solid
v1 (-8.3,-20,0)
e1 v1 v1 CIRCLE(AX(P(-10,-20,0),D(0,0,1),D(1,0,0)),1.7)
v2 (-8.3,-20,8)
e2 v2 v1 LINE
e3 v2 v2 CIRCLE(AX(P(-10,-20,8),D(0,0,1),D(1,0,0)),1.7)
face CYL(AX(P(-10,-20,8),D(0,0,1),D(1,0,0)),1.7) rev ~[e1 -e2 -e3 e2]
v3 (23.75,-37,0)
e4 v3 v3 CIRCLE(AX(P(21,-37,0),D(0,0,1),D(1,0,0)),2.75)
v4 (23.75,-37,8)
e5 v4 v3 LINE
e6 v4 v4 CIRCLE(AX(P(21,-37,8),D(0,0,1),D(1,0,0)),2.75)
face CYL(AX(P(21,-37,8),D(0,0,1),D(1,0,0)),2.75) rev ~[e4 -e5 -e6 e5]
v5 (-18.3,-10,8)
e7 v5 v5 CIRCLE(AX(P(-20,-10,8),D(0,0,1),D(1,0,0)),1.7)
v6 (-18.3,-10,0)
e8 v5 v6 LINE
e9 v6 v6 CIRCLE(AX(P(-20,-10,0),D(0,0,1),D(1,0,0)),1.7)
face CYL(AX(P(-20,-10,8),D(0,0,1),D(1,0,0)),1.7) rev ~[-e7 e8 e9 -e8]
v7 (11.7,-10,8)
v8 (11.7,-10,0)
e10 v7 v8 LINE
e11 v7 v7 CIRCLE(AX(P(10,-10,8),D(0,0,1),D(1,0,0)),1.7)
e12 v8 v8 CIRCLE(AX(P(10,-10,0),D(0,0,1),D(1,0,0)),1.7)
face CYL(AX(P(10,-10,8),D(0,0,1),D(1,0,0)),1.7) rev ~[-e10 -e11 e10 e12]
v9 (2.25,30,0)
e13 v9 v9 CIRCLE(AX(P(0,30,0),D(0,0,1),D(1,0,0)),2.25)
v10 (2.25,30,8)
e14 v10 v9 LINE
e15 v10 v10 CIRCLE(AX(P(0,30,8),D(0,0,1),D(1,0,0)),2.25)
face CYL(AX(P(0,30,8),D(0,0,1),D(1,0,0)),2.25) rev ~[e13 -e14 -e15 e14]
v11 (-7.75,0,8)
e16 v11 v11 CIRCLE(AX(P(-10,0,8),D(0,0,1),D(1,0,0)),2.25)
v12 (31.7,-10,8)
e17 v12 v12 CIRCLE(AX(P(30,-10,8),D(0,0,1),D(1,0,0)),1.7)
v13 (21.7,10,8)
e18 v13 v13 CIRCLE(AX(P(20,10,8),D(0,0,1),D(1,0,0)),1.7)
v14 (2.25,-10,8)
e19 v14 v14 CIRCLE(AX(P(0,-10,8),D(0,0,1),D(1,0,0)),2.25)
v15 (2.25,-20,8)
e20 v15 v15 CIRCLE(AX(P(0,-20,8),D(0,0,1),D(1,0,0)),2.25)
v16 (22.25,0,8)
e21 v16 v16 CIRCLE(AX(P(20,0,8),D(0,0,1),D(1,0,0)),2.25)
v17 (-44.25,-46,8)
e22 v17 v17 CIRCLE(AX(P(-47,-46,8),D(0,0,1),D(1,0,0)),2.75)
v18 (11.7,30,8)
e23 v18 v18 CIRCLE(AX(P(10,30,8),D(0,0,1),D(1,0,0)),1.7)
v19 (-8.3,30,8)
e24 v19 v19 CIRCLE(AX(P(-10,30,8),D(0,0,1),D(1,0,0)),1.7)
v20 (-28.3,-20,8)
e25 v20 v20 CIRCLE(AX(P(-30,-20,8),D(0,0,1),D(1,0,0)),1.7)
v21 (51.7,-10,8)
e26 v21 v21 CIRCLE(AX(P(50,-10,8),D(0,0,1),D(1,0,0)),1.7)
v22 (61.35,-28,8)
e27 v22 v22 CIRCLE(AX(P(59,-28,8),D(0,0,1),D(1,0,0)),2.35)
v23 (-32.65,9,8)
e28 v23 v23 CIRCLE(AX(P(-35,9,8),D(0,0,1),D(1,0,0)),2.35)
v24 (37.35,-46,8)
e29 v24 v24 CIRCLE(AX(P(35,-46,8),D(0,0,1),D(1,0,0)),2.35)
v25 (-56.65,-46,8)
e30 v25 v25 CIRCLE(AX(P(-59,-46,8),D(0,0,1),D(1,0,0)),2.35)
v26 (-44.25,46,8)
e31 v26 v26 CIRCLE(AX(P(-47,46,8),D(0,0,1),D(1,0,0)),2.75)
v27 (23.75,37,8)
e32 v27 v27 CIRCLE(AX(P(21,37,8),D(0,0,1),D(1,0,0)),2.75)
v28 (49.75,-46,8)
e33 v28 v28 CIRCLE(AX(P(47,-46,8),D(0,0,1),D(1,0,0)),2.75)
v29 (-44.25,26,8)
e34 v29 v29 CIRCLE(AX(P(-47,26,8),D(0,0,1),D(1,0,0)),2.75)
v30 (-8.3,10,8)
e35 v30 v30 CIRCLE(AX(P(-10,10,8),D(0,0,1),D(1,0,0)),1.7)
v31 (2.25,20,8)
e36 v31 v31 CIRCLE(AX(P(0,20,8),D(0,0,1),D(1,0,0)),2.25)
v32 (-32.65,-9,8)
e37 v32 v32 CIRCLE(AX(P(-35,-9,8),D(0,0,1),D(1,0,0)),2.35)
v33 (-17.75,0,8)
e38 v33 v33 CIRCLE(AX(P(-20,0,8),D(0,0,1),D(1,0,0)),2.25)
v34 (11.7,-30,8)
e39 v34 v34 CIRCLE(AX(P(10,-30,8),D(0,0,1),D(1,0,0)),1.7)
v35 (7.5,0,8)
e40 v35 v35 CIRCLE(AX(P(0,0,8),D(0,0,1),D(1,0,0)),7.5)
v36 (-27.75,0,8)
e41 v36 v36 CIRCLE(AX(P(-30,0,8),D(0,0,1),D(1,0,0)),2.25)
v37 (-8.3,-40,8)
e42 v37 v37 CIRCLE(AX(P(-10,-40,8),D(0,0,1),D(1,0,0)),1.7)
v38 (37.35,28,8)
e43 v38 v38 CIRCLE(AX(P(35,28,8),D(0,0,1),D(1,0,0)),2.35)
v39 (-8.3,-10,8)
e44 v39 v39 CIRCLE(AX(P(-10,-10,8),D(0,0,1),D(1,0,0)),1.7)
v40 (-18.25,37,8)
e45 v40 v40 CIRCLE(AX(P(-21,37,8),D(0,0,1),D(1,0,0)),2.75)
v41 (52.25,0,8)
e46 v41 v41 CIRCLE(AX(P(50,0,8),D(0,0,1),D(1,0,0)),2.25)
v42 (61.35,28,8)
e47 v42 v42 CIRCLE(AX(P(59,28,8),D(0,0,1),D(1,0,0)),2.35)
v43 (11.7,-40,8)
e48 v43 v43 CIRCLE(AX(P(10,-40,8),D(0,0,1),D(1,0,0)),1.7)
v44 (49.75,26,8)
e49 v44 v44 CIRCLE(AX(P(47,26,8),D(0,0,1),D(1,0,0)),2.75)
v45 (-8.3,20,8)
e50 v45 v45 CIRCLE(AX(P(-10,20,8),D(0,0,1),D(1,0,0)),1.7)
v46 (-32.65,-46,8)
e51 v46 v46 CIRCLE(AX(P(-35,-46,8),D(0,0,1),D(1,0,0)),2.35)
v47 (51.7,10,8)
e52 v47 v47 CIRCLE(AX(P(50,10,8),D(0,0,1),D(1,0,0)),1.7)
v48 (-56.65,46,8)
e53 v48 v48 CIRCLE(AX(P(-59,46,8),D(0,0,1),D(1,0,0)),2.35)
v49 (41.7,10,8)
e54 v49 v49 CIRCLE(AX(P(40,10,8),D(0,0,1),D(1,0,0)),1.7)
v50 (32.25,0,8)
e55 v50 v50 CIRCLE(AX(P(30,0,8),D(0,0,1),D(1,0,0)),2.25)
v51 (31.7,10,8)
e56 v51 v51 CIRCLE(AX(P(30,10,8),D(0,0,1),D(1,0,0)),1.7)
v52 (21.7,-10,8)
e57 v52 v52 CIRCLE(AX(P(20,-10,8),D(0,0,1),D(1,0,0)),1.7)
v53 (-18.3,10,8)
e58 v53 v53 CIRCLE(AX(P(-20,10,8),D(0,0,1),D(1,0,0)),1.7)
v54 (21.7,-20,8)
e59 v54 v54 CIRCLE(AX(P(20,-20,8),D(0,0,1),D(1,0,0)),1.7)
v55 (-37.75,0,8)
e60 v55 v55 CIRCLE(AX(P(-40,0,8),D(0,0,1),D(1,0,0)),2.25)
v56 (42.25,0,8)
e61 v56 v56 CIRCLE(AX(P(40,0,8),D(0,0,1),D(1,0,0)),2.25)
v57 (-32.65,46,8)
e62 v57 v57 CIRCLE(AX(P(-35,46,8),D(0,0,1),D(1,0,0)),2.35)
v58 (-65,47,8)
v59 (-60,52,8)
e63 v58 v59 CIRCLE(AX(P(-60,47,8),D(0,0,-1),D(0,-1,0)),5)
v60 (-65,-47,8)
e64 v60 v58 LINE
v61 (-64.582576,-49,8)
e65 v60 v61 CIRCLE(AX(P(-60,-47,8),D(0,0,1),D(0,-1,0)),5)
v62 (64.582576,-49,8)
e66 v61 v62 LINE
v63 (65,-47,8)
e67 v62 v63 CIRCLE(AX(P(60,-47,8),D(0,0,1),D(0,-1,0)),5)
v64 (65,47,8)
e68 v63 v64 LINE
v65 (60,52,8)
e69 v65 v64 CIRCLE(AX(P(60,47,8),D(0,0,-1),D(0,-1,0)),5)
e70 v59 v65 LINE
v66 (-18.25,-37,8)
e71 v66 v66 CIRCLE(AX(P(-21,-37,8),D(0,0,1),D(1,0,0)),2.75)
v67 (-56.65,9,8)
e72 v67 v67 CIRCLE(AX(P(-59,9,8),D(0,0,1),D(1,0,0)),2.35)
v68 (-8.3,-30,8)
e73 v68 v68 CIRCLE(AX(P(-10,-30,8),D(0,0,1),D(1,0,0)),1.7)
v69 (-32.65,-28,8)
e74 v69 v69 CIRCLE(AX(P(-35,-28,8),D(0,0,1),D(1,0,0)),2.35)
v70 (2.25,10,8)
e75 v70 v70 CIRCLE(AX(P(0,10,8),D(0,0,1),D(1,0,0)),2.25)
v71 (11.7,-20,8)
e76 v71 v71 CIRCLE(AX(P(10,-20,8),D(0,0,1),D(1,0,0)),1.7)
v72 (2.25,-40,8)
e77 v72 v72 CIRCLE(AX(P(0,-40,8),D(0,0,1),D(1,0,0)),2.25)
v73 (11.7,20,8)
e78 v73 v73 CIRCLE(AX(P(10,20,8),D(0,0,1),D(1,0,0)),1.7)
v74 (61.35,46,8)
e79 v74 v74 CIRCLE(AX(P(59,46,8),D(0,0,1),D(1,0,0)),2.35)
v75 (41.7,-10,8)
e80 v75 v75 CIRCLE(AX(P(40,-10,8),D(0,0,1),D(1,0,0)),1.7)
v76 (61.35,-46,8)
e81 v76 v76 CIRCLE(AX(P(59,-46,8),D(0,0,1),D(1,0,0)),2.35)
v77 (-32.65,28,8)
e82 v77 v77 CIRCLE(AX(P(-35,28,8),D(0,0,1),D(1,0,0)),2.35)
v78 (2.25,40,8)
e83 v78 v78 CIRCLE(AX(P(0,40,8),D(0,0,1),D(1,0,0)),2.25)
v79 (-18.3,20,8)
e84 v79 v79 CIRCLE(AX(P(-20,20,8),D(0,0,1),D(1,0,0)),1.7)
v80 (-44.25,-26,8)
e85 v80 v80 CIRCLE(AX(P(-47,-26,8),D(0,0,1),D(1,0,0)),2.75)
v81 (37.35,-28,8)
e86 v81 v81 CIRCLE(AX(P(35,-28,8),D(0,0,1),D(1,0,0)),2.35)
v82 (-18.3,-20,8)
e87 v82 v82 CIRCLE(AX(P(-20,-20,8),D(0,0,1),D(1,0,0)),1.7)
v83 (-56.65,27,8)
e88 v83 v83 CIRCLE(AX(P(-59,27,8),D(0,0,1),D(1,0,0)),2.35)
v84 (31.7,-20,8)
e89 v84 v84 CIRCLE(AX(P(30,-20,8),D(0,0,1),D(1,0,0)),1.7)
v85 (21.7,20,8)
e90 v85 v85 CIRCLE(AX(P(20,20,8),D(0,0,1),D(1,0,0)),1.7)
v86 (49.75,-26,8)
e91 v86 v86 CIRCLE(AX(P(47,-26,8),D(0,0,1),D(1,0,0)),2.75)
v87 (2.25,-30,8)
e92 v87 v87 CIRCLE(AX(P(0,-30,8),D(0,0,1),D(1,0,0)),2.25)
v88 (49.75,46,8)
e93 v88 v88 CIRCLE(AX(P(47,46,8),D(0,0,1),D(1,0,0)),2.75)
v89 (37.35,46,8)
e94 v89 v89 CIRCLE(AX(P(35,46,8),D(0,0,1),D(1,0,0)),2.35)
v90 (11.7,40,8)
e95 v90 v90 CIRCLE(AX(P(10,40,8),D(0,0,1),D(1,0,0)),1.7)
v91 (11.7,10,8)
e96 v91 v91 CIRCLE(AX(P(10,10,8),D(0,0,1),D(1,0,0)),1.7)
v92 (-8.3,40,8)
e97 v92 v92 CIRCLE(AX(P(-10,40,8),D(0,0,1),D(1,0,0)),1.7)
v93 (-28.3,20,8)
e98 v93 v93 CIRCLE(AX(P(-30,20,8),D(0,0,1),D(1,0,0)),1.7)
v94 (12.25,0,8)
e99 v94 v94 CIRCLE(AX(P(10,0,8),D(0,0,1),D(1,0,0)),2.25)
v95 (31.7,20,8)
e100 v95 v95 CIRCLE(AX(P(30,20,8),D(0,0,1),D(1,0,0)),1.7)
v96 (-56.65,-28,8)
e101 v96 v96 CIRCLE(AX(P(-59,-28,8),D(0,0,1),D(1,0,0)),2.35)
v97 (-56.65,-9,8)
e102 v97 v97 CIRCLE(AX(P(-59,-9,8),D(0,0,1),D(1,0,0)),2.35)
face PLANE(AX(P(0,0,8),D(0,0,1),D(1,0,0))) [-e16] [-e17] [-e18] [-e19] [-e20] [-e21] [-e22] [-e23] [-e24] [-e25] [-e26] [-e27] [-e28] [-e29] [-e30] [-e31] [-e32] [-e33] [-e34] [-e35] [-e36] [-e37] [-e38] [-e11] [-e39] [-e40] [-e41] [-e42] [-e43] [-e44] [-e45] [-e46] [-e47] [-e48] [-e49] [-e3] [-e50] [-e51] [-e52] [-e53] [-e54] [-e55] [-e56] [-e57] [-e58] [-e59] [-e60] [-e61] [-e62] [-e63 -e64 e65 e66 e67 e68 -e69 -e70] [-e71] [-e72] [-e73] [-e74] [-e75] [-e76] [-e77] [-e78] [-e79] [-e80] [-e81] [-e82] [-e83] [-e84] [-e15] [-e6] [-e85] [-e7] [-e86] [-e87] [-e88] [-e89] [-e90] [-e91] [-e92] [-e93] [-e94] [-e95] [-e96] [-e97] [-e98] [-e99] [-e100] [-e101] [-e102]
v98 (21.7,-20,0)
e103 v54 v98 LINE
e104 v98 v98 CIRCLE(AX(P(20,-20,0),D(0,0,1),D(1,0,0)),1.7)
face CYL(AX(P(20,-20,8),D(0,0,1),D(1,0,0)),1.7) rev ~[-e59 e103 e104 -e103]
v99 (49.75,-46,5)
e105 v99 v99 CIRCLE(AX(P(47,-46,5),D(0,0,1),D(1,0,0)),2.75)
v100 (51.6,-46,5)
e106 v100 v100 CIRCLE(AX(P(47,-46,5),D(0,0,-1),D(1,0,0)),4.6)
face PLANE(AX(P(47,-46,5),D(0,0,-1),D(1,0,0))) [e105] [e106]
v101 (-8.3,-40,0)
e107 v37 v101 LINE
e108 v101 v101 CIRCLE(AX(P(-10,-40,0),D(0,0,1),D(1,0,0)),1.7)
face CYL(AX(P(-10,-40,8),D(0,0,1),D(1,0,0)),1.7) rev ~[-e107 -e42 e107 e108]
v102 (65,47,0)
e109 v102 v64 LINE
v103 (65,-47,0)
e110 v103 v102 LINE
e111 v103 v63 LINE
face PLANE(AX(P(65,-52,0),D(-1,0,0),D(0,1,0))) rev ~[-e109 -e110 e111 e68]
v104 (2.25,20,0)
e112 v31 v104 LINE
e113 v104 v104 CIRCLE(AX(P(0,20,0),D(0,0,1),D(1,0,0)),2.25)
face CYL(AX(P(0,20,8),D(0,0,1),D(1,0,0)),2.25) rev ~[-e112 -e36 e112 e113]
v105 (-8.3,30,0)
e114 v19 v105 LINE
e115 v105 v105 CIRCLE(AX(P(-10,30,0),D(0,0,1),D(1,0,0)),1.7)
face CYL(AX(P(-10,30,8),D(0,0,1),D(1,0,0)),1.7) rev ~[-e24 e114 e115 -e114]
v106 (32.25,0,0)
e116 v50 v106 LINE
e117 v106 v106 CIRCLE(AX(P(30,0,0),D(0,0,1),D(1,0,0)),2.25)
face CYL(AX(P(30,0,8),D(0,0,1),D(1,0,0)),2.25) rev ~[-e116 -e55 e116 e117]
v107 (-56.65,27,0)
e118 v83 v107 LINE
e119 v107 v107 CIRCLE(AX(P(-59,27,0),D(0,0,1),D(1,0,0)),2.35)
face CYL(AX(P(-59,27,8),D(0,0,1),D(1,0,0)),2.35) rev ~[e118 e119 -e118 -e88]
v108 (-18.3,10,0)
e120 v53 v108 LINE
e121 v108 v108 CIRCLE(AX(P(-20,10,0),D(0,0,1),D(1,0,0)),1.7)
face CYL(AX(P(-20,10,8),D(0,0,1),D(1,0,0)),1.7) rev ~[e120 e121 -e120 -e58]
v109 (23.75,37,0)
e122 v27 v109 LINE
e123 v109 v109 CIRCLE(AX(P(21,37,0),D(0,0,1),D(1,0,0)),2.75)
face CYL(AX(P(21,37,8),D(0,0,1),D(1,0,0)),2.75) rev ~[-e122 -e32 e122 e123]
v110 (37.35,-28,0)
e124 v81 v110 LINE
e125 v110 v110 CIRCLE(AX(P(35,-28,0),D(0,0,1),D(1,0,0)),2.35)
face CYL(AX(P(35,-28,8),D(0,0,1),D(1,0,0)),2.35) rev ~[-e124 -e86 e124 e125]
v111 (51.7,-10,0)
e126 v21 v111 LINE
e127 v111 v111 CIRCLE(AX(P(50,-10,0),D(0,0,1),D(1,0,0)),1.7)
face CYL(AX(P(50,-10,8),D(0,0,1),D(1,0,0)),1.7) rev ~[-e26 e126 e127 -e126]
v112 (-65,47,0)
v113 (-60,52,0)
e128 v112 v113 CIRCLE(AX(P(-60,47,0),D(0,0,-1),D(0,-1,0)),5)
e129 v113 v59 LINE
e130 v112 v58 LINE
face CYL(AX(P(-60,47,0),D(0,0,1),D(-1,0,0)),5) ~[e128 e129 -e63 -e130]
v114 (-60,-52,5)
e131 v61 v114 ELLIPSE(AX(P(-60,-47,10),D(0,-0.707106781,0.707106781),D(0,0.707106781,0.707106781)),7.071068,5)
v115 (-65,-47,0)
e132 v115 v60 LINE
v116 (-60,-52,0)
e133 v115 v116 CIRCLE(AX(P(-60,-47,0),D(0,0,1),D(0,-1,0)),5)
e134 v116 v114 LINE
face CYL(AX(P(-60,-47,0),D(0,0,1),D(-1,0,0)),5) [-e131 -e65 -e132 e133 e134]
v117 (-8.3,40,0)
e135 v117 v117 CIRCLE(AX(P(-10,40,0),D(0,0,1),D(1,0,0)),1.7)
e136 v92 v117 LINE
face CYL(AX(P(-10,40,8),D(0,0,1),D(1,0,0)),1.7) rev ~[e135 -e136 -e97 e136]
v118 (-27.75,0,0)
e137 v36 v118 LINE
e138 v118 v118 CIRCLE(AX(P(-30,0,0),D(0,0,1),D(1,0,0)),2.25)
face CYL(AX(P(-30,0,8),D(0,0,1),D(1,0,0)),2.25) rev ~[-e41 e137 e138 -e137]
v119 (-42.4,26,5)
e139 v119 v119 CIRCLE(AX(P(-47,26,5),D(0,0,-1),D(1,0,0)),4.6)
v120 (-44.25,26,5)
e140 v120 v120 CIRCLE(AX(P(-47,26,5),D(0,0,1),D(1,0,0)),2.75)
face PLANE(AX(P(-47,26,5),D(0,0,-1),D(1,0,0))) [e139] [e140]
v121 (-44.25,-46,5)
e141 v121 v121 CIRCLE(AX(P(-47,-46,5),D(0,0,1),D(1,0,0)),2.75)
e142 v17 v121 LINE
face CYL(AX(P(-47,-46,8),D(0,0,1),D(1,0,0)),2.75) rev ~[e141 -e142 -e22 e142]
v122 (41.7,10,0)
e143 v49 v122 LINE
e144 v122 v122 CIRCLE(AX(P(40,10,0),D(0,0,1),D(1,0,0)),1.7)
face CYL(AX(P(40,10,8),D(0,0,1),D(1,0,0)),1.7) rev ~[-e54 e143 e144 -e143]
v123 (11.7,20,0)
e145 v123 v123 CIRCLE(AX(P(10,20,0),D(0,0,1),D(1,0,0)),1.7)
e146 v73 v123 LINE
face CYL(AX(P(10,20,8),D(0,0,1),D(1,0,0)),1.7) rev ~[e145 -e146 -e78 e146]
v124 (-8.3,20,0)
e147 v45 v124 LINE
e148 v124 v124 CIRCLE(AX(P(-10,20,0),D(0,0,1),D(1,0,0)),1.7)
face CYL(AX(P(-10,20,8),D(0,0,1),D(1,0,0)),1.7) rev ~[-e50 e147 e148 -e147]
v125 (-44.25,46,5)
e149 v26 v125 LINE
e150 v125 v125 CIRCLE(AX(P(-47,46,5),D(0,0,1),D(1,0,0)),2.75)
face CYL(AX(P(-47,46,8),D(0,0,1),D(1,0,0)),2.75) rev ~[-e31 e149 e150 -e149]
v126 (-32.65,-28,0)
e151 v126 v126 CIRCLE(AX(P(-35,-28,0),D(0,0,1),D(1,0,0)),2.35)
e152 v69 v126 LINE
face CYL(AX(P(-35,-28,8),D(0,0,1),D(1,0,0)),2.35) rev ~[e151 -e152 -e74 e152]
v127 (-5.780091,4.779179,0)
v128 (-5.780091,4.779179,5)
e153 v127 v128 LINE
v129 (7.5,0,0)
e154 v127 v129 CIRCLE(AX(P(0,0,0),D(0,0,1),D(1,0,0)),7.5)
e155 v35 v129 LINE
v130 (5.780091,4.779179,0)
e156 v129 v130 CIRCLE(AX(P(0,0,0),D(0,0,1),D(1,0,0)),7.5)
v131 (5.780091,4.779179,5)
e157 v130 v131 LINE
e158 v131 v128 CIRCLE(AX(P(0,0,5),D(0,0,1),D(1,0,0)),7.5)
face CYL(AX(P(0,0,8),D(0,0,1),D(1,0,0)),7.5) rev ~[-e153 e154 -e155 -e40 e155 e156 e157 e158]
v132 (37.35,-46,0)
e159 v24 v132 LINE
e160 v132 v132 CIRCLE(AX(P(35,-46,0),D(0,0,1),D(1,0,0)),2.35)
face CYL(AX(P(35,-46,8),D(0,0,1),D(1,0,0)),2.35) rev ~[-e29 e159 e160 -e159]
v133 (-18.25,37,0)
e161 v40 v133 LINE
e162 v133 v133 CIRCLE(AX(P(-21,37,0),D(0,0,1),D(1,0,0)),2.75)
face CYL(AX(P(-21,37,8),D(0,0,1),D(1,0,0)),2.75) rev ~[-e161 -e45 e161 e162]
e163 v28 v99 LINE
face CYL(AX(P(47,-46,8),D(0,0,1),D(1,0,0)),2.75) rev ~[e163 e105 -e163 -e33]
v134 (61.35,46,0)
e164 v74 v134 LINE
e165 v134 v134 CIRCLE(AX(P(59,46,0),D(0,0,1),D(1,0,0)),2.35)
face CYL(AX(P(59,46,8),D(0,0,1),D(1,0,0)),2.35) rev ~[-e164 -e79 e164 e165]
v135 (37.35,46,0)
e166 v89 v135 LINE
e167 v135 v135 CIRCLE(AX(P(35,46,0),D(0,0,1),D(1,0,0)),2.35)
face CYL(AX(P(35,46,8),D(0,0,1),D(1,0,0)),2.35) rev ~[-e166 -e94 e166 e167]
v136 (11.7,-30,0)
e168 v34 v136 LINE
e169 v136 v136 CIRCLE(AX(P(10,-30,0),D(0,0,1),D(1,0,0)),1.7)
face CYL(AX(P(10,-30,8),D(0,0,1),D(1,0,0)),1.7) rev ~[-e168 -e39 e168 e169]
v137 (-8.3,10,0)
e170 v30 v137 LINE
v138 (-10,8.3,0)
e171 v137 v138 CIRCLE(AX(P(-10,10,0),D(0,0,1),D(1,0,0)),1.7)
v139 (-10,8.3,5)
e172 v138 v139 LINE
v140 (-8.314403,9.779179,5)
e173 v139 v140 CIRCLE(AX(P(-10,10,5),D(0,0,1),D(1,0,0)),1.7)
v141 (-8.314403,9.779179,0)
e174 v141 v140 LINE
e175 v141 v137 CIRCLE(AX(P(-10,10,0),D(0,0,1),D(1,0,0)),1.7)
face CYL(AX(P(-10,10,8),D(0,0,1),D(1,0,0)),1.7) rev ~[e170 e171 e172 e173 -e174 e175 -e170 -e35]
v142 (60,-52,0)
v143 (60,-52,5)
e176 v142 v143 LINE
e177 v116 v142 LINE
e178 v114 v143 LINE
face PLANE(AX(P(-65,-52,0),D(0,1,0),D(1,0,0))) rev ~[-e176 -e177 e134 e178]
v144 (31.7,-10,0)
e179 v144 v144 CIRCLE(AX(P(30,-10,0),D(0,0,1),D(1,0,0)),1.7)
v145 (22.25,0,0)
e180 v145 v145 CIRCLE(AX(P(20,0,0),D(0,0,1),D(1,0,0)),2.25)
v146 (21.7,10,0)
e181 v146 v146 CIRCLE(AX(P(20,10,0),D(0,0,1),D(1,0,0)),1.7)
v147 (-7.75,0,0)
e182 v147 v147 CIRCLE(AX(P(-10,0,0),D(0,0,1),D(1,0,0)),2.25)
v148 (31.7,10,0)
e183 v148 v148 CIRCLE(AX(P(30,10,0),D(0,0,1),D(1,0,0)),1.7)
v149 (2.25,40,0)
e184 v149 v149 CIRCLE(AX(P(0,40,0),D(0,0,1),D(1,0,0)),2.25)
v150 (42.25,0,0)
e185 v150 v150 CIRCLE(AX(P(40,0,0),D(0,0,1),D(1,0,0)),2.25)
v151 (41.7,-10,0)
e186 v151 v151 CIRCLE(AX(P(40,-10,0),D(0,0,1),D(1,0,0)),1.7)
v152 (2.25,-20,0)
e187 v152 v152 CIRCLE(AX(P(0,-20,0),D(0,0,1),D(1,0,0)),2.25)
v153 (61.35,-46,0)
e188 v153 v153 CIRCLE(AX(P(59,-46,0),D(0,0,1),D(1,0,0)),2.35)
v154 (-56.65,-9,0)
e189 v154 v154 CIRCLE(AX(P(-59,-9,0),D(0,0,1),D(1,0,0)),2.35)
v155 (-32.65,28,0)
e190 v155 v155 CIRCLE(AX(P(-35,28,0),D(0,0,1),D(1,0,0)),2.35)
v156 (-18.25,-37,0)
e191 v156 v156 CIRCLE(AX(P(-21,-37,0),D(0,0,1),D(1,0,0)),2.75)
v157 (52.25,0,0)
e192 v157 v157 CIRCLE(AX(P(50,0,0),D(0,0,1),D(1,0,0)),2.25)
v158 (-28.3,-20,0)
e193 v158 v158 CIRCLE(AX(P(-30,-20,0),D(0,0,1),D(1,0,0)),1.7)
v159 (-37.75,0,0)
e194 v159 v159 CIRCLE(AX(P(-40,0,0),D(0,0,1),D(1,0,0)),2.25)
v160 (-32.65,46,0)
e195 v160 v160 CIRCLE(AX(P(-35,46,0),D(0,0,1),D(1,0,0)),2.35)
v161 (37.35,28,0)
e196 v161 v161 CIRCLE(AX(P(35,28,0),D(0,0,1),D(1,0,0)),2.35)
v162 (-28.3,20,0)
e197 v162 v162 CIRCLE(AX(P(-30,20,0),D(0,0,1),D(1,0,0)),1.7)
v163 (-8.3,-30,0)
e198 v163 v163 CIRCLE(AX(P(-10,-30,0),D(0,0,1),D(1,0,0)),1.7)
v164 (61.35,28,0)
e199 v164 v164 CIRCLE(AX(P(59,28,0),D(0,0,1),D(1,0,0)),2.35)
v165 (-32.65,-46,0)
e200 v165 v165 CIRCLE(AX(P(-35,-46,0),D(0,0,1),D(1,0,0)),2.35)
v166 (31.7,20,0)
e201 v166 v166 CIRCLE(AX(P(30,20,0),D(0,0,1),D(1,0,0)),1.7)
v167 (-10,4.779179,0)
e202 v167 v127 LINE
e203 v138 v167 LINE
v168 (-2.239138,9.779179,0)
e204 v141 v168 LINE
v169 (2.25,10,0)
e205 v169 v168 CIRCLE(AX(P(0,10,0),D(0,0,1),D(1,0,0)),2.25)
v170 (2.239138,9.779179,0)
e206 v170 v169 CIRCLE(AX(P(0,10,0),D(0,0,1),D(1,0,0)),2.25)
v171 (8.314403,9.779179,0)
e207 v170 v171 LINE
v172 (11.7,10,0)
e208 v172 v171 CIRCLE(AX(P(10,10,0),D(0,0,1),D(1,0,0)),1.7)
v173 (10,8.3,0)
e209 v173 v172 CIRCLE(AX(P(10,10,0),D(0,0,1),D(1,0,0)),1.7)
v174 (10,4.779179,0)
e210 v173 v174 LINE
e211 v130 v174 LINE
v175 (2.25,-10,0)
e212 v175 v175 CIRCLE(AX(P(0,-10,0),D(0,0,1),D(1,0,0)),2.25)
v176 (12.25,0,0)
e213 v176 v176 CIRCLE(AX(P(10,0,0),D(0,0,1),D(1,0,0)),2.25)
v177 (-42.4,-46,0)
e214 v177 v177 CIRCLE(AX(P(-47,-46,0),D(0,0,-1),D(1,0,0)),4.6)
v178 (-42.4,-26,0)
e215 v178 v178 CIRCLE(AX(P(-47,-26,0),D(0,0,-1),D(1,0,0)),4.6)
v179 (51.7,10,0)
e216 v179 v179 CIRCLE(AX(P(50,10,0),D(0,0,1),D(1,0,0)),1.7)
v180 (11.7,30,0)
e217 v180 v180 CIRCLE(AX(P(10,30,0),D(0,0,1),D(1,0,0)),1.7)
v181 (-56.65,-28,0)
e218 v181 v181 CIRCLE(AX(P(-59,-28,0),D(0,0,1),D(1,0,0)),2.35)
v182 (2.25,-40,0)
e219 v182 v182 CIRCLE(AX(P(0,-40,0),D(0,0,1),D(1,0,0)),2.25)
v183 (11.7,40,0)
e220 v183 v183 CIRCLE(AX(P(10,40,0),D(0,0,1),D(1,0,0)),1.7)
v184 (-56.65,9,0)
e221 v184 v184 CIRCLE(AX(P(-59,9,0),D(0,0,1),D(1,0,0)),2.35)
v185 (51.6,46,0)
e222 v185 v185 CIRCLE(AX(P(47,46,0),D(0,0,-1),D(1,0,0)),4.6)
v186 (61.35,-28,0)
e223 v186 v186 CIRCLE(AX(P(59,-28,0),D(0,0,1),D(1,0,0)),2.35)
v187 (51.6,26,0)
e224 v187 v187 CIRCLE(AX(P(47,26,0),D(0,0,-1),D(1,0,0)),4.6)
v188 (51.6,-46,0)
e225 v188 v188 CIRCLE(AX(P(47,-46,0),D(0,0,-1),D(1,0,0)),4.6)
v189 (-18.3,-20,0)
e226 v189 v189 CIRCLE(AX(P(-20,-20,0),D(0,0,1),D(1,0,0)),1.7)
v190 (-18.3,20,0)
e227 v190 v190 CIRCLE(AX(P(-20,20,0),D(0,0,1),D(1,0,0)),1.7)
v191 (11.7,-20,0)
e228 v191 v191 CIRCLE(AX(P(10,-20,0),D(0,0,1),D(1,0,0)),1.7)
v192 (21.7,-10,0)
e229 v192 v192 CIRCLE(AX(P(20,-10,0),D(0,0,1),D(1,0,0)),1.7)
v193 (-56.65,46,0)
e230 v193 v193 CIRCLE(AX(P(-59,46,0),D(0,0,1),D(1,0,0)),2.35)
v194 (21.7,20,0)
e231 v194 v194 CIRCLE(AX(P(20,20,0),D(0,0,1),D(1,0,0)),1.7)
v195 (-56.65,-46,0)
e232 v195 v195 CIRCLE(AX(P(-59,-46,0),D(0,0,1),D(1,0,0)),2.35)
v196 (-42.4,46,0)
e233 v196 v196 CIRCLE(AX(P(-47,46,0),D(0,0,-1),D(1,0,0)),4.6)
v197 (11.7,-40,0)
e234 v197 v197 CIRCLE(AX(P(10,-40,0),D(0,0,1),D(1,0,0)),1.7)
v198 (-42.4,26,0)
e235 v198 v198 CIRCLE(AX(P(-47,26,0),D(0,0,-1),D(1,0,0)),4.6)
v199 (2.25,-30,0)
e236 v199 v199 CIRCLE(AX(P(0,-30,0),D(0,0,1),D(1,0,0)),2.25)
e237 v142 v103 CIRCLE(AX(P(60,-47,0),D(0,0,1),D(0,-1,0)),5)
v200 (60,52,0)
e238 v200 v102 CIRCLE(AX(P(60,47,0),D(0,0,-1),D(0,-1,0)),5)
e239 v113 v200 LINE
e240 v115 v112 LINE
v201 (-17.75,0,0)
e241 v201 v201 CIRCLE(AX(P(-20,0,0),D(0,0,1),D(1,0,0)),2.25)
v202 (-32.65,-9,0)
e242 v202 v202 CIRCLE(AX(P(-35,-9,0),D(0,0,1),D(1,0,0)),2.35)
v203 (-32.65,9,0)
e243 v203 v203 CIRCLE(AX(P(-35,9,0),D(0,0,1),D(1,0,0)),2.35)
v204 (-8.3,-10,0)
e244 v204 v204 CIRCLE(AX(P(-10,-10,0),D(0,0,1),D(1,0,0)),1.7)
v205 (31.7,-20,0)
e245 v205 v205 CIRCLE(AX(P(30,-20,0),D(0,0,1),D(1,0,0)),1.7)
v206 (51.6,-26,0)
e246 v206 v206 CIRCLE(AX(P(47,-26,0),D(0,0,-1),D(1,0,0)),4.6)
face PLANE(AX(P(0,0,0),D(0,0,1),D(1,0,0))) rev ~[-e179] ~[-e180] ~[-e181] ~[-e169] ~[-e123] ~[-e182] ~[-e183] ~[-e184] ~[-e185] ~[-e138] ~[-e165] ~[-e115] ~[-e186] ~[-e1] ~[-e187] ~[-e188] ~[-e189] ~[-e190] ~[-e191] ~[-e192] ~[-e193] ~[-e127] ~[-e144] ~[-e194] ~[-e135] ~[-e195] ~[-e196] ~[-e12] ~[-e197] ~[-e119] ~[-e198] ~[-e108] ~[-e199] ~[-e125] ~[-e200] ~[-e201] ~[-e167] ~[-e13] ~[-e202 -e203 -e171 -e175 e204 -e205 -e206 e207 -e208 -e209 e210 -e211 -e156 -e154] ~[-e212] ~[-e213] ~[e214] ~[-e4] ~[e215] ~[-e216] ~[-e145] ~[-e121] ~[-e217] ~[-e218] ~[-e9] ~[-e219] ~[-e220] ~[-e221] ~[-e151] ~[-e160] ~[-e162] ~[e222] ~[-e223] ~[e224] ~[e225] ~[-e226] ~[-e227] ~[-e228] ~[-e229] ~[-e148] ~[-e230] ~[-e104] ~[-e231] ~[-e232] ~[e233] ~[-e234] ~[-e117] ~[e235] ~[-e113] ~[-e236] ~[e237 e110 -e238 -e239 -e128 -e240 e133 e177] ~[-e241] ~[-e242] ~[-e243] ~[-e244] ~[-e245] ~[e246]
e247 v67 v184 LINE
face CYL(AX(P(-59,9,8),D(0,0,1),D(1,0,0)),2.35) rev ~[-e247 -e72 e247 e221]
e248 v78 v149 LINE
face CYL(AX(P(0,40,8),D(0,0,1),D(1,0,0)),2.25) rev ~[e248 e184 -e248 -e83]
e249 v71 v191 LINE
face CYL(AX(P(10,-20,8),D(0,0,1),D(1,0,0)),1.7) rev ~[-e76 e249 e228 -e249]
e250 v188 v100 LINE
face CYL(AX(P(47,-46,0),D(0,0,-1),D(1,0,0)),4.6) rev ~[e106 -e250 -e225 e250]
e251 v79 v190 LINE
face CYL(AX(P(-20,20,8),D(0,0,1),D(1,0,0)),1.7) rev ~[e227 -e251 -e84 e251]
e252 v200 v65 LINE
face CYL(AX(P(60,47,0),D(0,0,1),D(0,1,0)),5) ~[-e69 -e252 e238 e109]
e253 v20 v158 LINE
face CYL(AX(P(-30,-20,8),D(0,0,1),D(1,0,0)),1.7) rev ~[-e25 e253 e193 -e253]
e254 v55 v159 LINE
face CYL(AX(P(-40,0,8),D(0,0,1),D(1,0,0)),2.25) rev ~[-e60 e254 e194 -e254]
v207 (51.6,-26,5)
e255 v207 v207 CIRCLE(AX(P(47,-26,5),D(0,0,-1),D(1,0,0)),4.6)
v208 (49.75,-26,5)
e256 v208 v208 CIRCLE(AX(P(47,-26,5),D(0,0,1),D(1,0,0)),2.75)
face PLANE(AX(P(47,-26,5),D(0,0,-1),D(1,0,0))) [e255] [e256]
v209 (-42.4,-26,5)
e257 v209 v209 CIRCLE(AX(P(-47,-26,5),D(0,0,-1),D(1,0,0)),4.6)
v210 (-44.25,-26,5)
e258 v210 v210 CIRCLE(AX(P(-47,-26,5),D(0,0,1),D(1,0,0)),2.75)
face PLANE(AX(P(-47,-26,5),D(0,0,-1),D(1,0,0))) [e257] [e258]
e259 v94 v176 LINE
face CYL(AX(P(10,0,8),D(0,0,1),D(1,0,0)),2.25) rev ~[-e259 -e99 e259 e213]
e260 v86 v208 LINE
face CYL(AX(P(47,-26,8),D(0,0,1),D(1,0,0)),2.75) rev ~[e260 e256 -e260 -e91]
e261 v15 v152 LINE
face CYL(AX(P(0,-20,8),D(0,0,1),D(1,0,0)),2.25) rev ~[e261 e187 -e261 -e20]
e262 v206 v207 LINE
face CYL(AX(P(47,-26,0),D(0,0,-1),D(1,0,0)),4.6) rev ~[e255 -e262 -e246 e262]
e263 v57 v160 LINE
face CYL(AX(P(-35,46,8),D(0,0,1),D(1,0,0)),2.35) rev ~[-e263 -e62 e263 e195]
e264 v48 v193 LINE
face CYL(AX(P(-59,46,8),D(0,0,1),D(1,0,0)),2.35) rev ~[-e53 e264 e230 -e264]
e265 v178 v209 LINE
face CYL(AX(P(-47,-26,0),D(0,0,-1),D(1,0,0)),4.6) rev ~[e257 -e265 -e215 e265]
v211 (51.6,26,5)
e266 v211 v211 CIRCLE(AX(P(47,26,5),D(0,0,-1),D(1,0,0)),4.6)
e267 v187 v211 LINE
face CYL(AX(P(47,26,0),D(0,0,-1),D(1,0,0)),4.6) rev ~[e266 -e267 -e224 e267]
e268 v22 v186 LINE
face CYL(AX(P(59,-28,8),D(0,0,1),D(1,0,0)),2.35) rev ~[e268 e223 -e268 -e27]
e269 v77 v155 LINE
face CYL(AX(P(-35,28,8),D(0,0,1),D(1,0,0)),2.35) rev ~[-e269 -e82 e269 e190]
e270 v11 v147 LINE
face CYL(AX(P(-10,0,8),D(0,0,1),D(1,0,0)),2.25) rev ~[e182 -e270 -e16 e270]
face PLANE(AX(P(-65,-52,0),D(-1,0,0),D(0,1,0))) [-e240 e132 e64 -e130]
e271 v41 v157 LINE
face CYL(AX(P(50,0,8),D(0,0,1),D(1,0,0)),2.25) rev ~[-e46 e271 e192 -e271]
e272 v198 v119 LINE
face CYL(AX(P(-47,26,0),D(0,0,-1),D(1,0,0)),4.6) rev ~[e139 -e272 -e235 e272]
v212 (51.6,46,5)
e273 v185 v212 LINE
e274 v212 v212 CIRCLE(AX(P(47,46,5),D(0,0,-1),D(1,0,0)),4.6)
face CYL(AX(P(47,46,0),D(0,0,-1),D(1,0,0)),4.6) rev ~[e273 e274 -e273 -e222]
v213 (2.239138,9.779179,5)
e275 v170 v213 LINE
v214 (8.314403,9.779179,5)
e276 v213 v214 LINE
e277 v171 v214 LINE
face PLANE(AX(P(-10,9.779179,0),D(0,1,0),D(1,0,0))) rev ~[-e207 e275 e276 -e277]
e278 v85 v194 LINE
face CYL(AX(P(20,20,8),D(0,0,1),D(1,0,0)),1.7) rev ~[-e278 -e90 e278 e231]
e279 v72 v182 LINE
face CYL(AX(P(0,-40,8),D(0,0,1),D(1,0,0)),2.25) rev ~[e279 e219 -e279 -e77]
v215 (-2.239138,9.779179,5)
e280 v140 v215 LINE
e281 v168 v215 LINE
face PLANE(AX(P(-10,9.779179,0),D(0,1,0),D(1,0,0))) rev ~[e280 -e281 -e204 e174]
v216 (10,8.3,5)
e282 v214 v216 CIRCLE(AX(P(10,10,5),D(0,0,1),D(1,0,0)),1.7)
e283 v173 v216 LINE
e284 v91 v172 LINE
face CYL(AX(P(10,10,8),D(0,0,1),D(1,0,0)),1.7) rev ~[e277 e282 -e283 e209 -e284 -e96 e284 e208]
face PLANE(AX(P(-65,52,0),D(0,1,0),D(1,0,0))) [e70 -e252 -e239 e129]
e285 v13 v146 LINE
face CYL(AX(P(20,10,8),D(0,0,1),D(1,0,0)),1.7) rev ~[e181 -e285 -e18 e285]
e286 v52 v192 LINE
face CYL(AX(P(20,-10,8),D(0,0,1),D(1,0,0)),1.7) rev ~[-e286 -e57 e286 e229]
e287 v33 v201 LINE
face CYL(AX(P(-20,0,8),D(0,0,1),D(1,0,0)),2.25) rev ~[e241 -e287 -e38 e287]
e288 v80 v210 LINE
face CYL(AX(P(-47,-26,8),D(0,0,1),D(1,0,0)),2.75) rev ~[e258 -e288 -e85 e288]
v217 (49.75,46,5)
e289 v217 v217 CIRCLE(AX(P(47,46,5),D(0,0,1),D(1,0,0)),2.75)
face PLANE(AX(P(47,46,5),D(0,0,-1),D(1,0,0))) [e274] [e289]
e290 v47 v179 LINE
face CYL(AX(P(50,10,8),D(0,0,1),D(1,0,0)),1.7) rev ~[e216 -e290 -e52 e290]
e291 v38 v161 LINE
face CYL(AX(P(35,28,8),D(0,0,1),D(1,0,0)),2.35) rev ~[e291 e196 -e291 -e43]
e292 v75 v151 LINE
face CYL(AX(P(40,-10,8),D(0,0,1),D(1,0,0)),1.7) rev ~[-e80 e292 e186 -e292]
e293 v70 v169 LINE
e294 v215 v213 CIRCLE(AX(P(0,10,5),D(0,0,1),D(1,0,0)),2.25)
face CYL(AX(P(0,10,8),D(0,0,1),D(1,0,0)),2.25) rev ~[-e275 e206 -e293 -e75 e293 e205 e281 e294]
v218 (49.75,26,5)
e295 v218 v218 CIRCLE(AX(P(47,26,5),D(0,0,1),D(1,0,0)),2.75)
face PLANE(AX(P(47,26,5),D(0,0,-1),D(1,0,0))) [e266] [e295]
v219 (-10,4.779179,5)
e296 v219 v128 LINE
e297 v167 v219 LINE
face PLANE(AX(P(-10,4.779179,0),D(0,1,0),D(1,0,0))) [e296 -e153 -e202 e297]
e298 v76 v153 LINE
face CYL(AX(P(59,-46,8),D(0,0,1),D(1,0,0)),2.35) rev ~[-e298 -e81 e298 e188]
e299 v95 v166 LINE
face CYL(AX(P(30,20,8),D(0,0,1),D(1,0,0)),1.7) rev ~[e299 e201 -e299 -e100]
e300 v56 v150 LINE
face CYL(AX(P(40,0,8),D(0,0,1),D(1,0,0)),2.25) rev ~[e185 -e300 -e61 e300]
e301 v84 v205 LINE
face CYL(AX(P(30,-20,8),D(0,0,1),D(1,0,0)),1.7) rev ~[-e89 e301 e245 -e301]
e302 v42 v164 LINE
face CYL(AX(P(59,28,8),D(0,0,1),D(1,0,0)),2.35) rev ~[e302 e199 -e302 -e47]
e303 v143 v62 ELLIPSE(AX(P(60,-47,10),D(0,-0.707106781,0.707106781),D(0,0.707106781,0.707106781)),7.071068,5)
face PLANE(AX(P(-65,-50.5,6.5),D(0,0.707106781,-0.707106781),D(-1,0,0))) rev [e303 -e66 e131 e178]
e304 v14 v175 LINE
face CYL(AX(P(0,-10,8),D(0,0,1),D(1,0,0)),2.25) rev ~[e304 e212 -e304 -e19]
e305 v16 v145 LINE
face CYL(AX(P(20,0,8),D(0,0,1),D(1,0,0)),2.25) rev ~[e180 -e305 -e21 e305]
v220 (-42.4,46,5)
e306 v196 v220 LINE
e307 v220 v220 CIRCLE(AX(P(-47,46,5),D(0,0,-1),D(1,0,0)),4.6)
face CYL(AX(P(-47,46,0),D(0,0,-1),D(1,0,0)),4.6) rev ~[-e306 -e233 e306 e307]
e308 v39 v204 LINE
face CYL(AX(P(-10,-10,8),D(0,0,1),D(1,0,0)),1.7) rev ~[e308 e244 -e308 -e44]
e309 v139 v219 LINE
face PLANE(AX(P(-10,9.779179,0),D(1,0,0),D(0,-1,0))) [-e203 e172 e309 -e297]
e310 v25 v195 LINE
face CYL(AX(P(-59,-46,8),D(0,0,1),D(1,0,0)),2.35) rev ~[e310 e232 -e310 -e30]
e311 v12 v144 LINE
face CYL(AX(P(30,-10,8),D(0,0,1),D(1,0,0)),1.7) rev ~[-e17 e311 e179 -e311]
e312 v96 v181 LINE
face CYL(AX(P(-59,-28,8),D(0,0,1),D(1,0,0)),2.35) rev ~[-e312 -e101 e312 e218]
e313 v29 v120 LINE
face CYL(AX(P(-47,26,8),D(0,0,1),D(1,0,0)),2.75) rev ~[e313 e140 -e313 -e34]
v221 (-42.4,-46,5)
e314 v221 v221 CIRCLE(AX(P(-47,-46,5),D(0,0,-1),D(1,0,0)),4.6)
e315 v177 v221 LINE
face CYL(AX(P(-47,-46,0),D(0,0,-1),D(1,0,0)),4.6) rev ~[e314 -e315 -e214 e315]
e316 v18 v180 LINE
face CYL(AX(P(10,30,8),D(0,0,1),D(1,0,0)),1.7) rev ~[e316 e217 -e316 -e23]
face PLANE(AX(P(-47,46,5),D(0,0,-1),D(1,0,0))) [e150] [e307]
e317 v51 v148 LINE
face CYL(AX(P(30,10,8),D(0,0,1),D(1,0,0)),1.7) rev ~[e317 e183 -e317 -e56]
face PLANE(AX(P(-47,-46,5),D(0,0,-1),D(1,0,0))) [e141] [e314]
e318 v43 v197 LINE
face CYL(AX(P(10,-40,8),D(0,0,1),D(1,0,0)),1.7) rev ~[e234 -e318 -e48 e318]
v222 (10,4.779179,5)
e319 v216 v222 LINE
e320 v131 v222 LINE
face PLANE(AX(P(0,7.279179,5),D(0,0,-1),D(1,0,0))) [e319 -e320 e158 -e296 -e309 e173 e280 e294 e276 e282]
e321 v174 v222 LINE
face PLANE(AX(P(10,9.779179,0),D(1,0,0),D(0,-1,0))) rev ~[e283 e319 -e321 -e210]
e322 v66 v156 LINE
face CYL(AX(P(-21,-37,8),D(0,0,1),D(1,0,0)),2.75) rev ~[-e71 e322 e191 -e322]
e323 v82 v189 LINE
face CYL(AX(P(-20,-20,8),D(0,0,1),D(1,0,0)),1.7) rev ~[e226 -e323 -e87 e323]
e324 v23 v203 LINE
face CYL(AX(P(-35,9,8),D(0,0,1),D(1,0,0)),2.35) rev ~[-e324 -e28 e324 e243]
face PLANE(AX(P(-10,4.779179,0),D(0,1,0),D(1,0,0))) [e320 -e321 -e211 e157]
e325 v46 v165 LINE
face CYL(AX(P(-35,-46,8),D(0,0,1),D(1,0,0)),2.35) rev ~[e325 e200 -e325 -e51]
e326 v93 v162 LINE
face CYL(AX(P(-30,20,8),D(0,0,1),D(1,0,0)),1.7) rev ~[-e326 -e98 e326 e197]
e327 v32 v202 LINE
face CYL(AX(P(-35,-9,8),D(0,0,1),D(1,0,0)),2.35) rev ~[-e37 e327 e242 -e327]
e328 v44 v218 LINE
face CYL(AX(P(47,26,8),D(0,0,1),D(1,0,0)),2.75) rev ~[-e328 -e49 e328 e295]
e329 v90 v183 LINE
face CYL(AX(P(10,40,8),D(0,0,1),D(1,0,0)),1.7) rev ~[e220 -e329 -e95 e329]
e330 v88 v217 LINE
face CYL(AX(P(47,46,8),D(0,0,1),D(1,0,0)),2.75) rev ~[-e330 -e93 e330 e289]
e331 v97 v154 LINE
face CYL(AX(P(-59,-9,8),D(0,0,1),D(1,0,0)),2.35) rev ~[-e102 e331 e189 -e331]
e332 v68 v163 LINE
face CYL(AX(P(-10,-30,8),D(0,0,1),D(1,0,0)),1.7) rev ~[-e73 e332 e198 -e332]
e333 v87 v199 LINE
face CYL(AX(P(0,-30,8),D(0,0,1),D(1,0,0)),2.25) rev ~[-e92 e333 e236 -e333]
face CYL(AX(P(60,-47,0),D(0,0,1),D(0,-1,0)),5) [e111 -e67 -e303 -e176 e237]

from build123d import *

# Parameters (mm, degrees)
SKETCH_W        = 130
SKETCH_H        = 104
PAD_DEPTH       = 8
SKETCH001_R     = 2.35
SKETCH001_R_2   = 2.75
POCKET_DEPTH    = 8.001
SKETCH003_R     = 4.6
SKETCH003_W     = 20
SKETCH003_H     = 5
POCKET001_DEPTH = 5
SKETCH002_R     = 1.7
SKETCH002_R_2   = 2.25
SKETCH002_R_3   = 7.5
POCKET002_DEPTH = 8.001
CHAMFER_SIZE    = 3
FILLET_R        = 5


with BuildPart() as part:
    # Sketch → Pad (new body)
    with BuildSketch(Plane.XY):
        Rectangle(SKETCH_W, SKETCH_H)
    extrude(amount=PAD_DEPTH)

    # Sketch001 → Pocket (cut, through all)
    with BuildSketch(Plane.XY.offset(8)):
        with Locations((-35, 46)):
            Circle(SKETCH001_R)
        with Locations((-59, 27)):
            Circle(SKETCH001_R)
        with Locations((-59, 46)):
            Circle(SKETCH001_R)
        with Locations((35, 46)):
            Circle(SKETCH001_R)
        with Locations((59, 28)):
            Circle(SKETCH001_R)
        with Locations((59, 46)):
            Circle(SKETCH001_R)
        with Locations((59, -28)):
            Circle(SKETCH001_R)
        with Locations((59, -46)):
            Circle(SKETCH001_R)
        with Locations((35, -46)):
            Circle(SKETCH001_R)
        with Locations((-59, -28)):
            Circle(SKETCH001_R)
        with Locations((-35, -46)):
            Circle(SKETCH001_R)
        with Locations((-59, -46)):
            Circle(SKETCH001_R)
        with Locations((-47, 46)):
            Circle(SKETCH001_R_2)
        with Locations((-47, 26)):
            Circle(SKETCH001_R_2)
        with Locations((47, 46)):
            Circle(SKETCH001_R_2)
        with Locations((47, 26)):
            Circle(SKETCH001_R_2)
        with Locations((-21, -37)):
            Circle(SKETCH001_R_2)
        with Locations((21, -37)):
            Circle(SKETCH001_R_2)
        with Locations((-21, 37)):
            Circle(SKETCH001_R_2)
        with Locations((21, 37)):
            Circle(SKETCH001_R_2)
        with Locations((47, -46)):
            Circle(SKETCH001_R_2)
        with Locations((47, -26)):
            Circle(SKETCH001_R_2)
        with Locations((-47, -26)):
            Circle(SKETCH001_R_2)
        with Locations((-47, -46)):
            Circle(SKETCH001_R_2)
        with Locations((-35, 28)):
            Circle(SKETCH001_R)
        with Locations((35, 28)):
            Circle(SKETCH001_R)
        with Locations((35, -28)):
            Circle(SKETCH001_R)
        with Locations((-35, -28)):
            Circle(SKETCH001_R)
        with Locations((-59, 9)):
            Circle(SKETCH001_R)
        with Locations((-59, -9)):
            Circle(SKETCH001_R)
        with Locations((-35, 9)):
            Circle(SKETCH001_R)
        with Locations((-35, -9)):
            Circle(SKETCH001_R)
    extrude(amount=-POCKET_DEPTH, mode=Mode.SUBTRACT)

    # Sketch003 → Pocket001 (cut)
    with BuildSketch(Plane(origin=(0, 0, 0), x_dir=(1, 0, 0), z_dir=(0, 0, -1))):
        with Locations((-47, 46)):
            Circle(SKETCH003_R)
        with Locations((47, -26)):
            Circle(SKETCH003_R)
        with Locations((47, 26)):
            Circle(SKETCH003_R)
        with Locations((47, 46)):
            Circle(SKETCH003_R)
        with Locations((-47, 26)):
            Circle(SKETCH003_R)
        with Locations((47, -46)):
            Circle(SKETCH003_R)
        with Locations((-47, -46)):
            Circle(SKETCH003_R)
        with Locations((-47, -26)):
            Circle(SKETCH003_R)
        with Locations((0, -7.279179)):
            Rectangle(SKETCH003_W, SKETCH003_H)
    extrude(amount=-POCKET001_DEPTH, mode=Mode.SUBTRACT)

    # Sketch002 → Pocket002 (cut, through all)
    with BuildSketch(Plane.XY.offset(8)):
        with Locations((-10, 10)):
            Circle(SKETCH002_R)
        with Locations((-20, 10)):
            Circle(SKETCH002_R)
        with Locations((-10, 0)):
            Circle(SKETCH002_R_2)
        with Locations((-20, 0)):
            Circle(SKETCH002_R_2)
        with Locations((-10, -10)):
            Circle(SKETCH002_R)
        with Locations((-20, -10)):
            Circle(SKETCH002_R)
        with Locations((-30, 0)):
            Circle(SKETCH002_R_2)
        with Locations((-40, 0)):
            Circle(SKETCH002_R_2)
        with Locations((10, 10)):
            Circle(SKETCH002_R)
        with Locations((10, -10)):
            Circle(SKETCH002_R)
        with Locations((20, -10)):
            Circle(SKETCH002_R)
        with Locations((20, 10)):
            Circle(SKETCH002_R)
        with Locations((30, 10)):
            Circle(SKETCH002_R)
        with Locations((40, 10)):
            Circle(SKETCH002_R)
        with Locations((30, -10)):
            Circle(SKETCH002_R)
        with Locations((40, -10)):
            Circle(SKETCH002_R)
        with Locations((-10, 20)):
            Circle(SKETCH002_R)
        with Locations((-20, 20)):
            Circle(SKETCH002_R)
        with Locations((10, 20)):
            Circle(SKETCH002_R)
        with Locations((20, 20)):
            Circle(SKETCH002_R)
        with Locations((20, -20)):
            Circle(SKETCH002_R)
        with Locations((10, -20)):
            Circle(SKETCH002_R)
        with Locations((-10, -20)):
            Circle(SKETCH002_R)
        with Locations((-20, -20)):
            Circle(SKETCH002_R)
        with Locations((-10, 30)):
            Circle(SKETCH002_R)
        with Locations((-10, 40)):
            Circle(SKETCH002_R)
        with Locations((10, 40)):
            Circle(SKETCH002_R)
        with Locations((10, 30)):
            Circle(SKETCH002_R)
        with Locations((10, -30)):
            Circle(SKETCH002_R)
        with Locations((-10, -30)):
            Circle(SKETCH002_R)
        with Locations((-10, -40)):
            Circle(SKETCH002_R)
        with Locations((10, -40)):
            Circle(SKETCH002_R)
        with Locations((0, 40)):
            Circle(SKETCH002_R_2)
        with Locations((0, 30)):
            Circle(SKETCH002_R_2)
        with Locations((0, 20)):
            Circle(SKETCH002_R_2)
        with Locations((0, 10)):
            Circle(SKETCH002_R_2)
        with Locations((0, -10)):
            Circle(SKETCH002_R_2)
        with Locations((0, -20)):
            Circle(SKETCH002_R_2)
        with Locations((0, -30)):
            Circle(SKETCH002_R_2)
        with Locations((0, -40)):
            Circle(SKETCH002_R_2)
        with Locations((10, 0)):
            Circle(SKETCH002_R_2)
        with Locations((20, 0)):
            Circle(SKETCH002_R_2)
        with Locations((30, 0)):
            Circle(SKETCH002_R_2)
        with Locations((40, 0)):
            Circle(SKETCH002_R_2)
        with Locations((50, 0)):
            Circle(SKETCH002_R_2)
        with Locations((50, 10)):
            Circle(SKETCH002_R)
        with Locations((50, -10)):
            Circle(SKETCH002_R)
        with Locations((-30, 20)):
            Circle(SKETCH002_R)
        with Locations((-30, -20)):
            Circle(SKETCH002_R)
        with Locations((30, 20)):
            Circle(SKETCH002_R)
        with Locations((30, -20)):
            Circle(SKETCH002_R)
        Circle(SKETCH002_R_3)
    extrude(amount=-POCKET002_DEPTH, mode=Mode.SUBTRACT)

    # Chamfer
    chamfer_edges = [part.edges().sort_by_distance(p)[0] for p in [
        (0, -52, 8),
    ]]
    chamfer(chamfer_edges, length=CHAMFER_SIZE)

    # Fillet
    fillet_edges = [part.edges().sort_by_distance(p)[0] for p in [
        (65, -52, 2.5),
        (65, 52, 4),
        (-65, -52, 2.5),
        (-65, 52, 4),
    ]]
    fillet(fillet_edges, radius=FILLET_R)


solid = part.part
